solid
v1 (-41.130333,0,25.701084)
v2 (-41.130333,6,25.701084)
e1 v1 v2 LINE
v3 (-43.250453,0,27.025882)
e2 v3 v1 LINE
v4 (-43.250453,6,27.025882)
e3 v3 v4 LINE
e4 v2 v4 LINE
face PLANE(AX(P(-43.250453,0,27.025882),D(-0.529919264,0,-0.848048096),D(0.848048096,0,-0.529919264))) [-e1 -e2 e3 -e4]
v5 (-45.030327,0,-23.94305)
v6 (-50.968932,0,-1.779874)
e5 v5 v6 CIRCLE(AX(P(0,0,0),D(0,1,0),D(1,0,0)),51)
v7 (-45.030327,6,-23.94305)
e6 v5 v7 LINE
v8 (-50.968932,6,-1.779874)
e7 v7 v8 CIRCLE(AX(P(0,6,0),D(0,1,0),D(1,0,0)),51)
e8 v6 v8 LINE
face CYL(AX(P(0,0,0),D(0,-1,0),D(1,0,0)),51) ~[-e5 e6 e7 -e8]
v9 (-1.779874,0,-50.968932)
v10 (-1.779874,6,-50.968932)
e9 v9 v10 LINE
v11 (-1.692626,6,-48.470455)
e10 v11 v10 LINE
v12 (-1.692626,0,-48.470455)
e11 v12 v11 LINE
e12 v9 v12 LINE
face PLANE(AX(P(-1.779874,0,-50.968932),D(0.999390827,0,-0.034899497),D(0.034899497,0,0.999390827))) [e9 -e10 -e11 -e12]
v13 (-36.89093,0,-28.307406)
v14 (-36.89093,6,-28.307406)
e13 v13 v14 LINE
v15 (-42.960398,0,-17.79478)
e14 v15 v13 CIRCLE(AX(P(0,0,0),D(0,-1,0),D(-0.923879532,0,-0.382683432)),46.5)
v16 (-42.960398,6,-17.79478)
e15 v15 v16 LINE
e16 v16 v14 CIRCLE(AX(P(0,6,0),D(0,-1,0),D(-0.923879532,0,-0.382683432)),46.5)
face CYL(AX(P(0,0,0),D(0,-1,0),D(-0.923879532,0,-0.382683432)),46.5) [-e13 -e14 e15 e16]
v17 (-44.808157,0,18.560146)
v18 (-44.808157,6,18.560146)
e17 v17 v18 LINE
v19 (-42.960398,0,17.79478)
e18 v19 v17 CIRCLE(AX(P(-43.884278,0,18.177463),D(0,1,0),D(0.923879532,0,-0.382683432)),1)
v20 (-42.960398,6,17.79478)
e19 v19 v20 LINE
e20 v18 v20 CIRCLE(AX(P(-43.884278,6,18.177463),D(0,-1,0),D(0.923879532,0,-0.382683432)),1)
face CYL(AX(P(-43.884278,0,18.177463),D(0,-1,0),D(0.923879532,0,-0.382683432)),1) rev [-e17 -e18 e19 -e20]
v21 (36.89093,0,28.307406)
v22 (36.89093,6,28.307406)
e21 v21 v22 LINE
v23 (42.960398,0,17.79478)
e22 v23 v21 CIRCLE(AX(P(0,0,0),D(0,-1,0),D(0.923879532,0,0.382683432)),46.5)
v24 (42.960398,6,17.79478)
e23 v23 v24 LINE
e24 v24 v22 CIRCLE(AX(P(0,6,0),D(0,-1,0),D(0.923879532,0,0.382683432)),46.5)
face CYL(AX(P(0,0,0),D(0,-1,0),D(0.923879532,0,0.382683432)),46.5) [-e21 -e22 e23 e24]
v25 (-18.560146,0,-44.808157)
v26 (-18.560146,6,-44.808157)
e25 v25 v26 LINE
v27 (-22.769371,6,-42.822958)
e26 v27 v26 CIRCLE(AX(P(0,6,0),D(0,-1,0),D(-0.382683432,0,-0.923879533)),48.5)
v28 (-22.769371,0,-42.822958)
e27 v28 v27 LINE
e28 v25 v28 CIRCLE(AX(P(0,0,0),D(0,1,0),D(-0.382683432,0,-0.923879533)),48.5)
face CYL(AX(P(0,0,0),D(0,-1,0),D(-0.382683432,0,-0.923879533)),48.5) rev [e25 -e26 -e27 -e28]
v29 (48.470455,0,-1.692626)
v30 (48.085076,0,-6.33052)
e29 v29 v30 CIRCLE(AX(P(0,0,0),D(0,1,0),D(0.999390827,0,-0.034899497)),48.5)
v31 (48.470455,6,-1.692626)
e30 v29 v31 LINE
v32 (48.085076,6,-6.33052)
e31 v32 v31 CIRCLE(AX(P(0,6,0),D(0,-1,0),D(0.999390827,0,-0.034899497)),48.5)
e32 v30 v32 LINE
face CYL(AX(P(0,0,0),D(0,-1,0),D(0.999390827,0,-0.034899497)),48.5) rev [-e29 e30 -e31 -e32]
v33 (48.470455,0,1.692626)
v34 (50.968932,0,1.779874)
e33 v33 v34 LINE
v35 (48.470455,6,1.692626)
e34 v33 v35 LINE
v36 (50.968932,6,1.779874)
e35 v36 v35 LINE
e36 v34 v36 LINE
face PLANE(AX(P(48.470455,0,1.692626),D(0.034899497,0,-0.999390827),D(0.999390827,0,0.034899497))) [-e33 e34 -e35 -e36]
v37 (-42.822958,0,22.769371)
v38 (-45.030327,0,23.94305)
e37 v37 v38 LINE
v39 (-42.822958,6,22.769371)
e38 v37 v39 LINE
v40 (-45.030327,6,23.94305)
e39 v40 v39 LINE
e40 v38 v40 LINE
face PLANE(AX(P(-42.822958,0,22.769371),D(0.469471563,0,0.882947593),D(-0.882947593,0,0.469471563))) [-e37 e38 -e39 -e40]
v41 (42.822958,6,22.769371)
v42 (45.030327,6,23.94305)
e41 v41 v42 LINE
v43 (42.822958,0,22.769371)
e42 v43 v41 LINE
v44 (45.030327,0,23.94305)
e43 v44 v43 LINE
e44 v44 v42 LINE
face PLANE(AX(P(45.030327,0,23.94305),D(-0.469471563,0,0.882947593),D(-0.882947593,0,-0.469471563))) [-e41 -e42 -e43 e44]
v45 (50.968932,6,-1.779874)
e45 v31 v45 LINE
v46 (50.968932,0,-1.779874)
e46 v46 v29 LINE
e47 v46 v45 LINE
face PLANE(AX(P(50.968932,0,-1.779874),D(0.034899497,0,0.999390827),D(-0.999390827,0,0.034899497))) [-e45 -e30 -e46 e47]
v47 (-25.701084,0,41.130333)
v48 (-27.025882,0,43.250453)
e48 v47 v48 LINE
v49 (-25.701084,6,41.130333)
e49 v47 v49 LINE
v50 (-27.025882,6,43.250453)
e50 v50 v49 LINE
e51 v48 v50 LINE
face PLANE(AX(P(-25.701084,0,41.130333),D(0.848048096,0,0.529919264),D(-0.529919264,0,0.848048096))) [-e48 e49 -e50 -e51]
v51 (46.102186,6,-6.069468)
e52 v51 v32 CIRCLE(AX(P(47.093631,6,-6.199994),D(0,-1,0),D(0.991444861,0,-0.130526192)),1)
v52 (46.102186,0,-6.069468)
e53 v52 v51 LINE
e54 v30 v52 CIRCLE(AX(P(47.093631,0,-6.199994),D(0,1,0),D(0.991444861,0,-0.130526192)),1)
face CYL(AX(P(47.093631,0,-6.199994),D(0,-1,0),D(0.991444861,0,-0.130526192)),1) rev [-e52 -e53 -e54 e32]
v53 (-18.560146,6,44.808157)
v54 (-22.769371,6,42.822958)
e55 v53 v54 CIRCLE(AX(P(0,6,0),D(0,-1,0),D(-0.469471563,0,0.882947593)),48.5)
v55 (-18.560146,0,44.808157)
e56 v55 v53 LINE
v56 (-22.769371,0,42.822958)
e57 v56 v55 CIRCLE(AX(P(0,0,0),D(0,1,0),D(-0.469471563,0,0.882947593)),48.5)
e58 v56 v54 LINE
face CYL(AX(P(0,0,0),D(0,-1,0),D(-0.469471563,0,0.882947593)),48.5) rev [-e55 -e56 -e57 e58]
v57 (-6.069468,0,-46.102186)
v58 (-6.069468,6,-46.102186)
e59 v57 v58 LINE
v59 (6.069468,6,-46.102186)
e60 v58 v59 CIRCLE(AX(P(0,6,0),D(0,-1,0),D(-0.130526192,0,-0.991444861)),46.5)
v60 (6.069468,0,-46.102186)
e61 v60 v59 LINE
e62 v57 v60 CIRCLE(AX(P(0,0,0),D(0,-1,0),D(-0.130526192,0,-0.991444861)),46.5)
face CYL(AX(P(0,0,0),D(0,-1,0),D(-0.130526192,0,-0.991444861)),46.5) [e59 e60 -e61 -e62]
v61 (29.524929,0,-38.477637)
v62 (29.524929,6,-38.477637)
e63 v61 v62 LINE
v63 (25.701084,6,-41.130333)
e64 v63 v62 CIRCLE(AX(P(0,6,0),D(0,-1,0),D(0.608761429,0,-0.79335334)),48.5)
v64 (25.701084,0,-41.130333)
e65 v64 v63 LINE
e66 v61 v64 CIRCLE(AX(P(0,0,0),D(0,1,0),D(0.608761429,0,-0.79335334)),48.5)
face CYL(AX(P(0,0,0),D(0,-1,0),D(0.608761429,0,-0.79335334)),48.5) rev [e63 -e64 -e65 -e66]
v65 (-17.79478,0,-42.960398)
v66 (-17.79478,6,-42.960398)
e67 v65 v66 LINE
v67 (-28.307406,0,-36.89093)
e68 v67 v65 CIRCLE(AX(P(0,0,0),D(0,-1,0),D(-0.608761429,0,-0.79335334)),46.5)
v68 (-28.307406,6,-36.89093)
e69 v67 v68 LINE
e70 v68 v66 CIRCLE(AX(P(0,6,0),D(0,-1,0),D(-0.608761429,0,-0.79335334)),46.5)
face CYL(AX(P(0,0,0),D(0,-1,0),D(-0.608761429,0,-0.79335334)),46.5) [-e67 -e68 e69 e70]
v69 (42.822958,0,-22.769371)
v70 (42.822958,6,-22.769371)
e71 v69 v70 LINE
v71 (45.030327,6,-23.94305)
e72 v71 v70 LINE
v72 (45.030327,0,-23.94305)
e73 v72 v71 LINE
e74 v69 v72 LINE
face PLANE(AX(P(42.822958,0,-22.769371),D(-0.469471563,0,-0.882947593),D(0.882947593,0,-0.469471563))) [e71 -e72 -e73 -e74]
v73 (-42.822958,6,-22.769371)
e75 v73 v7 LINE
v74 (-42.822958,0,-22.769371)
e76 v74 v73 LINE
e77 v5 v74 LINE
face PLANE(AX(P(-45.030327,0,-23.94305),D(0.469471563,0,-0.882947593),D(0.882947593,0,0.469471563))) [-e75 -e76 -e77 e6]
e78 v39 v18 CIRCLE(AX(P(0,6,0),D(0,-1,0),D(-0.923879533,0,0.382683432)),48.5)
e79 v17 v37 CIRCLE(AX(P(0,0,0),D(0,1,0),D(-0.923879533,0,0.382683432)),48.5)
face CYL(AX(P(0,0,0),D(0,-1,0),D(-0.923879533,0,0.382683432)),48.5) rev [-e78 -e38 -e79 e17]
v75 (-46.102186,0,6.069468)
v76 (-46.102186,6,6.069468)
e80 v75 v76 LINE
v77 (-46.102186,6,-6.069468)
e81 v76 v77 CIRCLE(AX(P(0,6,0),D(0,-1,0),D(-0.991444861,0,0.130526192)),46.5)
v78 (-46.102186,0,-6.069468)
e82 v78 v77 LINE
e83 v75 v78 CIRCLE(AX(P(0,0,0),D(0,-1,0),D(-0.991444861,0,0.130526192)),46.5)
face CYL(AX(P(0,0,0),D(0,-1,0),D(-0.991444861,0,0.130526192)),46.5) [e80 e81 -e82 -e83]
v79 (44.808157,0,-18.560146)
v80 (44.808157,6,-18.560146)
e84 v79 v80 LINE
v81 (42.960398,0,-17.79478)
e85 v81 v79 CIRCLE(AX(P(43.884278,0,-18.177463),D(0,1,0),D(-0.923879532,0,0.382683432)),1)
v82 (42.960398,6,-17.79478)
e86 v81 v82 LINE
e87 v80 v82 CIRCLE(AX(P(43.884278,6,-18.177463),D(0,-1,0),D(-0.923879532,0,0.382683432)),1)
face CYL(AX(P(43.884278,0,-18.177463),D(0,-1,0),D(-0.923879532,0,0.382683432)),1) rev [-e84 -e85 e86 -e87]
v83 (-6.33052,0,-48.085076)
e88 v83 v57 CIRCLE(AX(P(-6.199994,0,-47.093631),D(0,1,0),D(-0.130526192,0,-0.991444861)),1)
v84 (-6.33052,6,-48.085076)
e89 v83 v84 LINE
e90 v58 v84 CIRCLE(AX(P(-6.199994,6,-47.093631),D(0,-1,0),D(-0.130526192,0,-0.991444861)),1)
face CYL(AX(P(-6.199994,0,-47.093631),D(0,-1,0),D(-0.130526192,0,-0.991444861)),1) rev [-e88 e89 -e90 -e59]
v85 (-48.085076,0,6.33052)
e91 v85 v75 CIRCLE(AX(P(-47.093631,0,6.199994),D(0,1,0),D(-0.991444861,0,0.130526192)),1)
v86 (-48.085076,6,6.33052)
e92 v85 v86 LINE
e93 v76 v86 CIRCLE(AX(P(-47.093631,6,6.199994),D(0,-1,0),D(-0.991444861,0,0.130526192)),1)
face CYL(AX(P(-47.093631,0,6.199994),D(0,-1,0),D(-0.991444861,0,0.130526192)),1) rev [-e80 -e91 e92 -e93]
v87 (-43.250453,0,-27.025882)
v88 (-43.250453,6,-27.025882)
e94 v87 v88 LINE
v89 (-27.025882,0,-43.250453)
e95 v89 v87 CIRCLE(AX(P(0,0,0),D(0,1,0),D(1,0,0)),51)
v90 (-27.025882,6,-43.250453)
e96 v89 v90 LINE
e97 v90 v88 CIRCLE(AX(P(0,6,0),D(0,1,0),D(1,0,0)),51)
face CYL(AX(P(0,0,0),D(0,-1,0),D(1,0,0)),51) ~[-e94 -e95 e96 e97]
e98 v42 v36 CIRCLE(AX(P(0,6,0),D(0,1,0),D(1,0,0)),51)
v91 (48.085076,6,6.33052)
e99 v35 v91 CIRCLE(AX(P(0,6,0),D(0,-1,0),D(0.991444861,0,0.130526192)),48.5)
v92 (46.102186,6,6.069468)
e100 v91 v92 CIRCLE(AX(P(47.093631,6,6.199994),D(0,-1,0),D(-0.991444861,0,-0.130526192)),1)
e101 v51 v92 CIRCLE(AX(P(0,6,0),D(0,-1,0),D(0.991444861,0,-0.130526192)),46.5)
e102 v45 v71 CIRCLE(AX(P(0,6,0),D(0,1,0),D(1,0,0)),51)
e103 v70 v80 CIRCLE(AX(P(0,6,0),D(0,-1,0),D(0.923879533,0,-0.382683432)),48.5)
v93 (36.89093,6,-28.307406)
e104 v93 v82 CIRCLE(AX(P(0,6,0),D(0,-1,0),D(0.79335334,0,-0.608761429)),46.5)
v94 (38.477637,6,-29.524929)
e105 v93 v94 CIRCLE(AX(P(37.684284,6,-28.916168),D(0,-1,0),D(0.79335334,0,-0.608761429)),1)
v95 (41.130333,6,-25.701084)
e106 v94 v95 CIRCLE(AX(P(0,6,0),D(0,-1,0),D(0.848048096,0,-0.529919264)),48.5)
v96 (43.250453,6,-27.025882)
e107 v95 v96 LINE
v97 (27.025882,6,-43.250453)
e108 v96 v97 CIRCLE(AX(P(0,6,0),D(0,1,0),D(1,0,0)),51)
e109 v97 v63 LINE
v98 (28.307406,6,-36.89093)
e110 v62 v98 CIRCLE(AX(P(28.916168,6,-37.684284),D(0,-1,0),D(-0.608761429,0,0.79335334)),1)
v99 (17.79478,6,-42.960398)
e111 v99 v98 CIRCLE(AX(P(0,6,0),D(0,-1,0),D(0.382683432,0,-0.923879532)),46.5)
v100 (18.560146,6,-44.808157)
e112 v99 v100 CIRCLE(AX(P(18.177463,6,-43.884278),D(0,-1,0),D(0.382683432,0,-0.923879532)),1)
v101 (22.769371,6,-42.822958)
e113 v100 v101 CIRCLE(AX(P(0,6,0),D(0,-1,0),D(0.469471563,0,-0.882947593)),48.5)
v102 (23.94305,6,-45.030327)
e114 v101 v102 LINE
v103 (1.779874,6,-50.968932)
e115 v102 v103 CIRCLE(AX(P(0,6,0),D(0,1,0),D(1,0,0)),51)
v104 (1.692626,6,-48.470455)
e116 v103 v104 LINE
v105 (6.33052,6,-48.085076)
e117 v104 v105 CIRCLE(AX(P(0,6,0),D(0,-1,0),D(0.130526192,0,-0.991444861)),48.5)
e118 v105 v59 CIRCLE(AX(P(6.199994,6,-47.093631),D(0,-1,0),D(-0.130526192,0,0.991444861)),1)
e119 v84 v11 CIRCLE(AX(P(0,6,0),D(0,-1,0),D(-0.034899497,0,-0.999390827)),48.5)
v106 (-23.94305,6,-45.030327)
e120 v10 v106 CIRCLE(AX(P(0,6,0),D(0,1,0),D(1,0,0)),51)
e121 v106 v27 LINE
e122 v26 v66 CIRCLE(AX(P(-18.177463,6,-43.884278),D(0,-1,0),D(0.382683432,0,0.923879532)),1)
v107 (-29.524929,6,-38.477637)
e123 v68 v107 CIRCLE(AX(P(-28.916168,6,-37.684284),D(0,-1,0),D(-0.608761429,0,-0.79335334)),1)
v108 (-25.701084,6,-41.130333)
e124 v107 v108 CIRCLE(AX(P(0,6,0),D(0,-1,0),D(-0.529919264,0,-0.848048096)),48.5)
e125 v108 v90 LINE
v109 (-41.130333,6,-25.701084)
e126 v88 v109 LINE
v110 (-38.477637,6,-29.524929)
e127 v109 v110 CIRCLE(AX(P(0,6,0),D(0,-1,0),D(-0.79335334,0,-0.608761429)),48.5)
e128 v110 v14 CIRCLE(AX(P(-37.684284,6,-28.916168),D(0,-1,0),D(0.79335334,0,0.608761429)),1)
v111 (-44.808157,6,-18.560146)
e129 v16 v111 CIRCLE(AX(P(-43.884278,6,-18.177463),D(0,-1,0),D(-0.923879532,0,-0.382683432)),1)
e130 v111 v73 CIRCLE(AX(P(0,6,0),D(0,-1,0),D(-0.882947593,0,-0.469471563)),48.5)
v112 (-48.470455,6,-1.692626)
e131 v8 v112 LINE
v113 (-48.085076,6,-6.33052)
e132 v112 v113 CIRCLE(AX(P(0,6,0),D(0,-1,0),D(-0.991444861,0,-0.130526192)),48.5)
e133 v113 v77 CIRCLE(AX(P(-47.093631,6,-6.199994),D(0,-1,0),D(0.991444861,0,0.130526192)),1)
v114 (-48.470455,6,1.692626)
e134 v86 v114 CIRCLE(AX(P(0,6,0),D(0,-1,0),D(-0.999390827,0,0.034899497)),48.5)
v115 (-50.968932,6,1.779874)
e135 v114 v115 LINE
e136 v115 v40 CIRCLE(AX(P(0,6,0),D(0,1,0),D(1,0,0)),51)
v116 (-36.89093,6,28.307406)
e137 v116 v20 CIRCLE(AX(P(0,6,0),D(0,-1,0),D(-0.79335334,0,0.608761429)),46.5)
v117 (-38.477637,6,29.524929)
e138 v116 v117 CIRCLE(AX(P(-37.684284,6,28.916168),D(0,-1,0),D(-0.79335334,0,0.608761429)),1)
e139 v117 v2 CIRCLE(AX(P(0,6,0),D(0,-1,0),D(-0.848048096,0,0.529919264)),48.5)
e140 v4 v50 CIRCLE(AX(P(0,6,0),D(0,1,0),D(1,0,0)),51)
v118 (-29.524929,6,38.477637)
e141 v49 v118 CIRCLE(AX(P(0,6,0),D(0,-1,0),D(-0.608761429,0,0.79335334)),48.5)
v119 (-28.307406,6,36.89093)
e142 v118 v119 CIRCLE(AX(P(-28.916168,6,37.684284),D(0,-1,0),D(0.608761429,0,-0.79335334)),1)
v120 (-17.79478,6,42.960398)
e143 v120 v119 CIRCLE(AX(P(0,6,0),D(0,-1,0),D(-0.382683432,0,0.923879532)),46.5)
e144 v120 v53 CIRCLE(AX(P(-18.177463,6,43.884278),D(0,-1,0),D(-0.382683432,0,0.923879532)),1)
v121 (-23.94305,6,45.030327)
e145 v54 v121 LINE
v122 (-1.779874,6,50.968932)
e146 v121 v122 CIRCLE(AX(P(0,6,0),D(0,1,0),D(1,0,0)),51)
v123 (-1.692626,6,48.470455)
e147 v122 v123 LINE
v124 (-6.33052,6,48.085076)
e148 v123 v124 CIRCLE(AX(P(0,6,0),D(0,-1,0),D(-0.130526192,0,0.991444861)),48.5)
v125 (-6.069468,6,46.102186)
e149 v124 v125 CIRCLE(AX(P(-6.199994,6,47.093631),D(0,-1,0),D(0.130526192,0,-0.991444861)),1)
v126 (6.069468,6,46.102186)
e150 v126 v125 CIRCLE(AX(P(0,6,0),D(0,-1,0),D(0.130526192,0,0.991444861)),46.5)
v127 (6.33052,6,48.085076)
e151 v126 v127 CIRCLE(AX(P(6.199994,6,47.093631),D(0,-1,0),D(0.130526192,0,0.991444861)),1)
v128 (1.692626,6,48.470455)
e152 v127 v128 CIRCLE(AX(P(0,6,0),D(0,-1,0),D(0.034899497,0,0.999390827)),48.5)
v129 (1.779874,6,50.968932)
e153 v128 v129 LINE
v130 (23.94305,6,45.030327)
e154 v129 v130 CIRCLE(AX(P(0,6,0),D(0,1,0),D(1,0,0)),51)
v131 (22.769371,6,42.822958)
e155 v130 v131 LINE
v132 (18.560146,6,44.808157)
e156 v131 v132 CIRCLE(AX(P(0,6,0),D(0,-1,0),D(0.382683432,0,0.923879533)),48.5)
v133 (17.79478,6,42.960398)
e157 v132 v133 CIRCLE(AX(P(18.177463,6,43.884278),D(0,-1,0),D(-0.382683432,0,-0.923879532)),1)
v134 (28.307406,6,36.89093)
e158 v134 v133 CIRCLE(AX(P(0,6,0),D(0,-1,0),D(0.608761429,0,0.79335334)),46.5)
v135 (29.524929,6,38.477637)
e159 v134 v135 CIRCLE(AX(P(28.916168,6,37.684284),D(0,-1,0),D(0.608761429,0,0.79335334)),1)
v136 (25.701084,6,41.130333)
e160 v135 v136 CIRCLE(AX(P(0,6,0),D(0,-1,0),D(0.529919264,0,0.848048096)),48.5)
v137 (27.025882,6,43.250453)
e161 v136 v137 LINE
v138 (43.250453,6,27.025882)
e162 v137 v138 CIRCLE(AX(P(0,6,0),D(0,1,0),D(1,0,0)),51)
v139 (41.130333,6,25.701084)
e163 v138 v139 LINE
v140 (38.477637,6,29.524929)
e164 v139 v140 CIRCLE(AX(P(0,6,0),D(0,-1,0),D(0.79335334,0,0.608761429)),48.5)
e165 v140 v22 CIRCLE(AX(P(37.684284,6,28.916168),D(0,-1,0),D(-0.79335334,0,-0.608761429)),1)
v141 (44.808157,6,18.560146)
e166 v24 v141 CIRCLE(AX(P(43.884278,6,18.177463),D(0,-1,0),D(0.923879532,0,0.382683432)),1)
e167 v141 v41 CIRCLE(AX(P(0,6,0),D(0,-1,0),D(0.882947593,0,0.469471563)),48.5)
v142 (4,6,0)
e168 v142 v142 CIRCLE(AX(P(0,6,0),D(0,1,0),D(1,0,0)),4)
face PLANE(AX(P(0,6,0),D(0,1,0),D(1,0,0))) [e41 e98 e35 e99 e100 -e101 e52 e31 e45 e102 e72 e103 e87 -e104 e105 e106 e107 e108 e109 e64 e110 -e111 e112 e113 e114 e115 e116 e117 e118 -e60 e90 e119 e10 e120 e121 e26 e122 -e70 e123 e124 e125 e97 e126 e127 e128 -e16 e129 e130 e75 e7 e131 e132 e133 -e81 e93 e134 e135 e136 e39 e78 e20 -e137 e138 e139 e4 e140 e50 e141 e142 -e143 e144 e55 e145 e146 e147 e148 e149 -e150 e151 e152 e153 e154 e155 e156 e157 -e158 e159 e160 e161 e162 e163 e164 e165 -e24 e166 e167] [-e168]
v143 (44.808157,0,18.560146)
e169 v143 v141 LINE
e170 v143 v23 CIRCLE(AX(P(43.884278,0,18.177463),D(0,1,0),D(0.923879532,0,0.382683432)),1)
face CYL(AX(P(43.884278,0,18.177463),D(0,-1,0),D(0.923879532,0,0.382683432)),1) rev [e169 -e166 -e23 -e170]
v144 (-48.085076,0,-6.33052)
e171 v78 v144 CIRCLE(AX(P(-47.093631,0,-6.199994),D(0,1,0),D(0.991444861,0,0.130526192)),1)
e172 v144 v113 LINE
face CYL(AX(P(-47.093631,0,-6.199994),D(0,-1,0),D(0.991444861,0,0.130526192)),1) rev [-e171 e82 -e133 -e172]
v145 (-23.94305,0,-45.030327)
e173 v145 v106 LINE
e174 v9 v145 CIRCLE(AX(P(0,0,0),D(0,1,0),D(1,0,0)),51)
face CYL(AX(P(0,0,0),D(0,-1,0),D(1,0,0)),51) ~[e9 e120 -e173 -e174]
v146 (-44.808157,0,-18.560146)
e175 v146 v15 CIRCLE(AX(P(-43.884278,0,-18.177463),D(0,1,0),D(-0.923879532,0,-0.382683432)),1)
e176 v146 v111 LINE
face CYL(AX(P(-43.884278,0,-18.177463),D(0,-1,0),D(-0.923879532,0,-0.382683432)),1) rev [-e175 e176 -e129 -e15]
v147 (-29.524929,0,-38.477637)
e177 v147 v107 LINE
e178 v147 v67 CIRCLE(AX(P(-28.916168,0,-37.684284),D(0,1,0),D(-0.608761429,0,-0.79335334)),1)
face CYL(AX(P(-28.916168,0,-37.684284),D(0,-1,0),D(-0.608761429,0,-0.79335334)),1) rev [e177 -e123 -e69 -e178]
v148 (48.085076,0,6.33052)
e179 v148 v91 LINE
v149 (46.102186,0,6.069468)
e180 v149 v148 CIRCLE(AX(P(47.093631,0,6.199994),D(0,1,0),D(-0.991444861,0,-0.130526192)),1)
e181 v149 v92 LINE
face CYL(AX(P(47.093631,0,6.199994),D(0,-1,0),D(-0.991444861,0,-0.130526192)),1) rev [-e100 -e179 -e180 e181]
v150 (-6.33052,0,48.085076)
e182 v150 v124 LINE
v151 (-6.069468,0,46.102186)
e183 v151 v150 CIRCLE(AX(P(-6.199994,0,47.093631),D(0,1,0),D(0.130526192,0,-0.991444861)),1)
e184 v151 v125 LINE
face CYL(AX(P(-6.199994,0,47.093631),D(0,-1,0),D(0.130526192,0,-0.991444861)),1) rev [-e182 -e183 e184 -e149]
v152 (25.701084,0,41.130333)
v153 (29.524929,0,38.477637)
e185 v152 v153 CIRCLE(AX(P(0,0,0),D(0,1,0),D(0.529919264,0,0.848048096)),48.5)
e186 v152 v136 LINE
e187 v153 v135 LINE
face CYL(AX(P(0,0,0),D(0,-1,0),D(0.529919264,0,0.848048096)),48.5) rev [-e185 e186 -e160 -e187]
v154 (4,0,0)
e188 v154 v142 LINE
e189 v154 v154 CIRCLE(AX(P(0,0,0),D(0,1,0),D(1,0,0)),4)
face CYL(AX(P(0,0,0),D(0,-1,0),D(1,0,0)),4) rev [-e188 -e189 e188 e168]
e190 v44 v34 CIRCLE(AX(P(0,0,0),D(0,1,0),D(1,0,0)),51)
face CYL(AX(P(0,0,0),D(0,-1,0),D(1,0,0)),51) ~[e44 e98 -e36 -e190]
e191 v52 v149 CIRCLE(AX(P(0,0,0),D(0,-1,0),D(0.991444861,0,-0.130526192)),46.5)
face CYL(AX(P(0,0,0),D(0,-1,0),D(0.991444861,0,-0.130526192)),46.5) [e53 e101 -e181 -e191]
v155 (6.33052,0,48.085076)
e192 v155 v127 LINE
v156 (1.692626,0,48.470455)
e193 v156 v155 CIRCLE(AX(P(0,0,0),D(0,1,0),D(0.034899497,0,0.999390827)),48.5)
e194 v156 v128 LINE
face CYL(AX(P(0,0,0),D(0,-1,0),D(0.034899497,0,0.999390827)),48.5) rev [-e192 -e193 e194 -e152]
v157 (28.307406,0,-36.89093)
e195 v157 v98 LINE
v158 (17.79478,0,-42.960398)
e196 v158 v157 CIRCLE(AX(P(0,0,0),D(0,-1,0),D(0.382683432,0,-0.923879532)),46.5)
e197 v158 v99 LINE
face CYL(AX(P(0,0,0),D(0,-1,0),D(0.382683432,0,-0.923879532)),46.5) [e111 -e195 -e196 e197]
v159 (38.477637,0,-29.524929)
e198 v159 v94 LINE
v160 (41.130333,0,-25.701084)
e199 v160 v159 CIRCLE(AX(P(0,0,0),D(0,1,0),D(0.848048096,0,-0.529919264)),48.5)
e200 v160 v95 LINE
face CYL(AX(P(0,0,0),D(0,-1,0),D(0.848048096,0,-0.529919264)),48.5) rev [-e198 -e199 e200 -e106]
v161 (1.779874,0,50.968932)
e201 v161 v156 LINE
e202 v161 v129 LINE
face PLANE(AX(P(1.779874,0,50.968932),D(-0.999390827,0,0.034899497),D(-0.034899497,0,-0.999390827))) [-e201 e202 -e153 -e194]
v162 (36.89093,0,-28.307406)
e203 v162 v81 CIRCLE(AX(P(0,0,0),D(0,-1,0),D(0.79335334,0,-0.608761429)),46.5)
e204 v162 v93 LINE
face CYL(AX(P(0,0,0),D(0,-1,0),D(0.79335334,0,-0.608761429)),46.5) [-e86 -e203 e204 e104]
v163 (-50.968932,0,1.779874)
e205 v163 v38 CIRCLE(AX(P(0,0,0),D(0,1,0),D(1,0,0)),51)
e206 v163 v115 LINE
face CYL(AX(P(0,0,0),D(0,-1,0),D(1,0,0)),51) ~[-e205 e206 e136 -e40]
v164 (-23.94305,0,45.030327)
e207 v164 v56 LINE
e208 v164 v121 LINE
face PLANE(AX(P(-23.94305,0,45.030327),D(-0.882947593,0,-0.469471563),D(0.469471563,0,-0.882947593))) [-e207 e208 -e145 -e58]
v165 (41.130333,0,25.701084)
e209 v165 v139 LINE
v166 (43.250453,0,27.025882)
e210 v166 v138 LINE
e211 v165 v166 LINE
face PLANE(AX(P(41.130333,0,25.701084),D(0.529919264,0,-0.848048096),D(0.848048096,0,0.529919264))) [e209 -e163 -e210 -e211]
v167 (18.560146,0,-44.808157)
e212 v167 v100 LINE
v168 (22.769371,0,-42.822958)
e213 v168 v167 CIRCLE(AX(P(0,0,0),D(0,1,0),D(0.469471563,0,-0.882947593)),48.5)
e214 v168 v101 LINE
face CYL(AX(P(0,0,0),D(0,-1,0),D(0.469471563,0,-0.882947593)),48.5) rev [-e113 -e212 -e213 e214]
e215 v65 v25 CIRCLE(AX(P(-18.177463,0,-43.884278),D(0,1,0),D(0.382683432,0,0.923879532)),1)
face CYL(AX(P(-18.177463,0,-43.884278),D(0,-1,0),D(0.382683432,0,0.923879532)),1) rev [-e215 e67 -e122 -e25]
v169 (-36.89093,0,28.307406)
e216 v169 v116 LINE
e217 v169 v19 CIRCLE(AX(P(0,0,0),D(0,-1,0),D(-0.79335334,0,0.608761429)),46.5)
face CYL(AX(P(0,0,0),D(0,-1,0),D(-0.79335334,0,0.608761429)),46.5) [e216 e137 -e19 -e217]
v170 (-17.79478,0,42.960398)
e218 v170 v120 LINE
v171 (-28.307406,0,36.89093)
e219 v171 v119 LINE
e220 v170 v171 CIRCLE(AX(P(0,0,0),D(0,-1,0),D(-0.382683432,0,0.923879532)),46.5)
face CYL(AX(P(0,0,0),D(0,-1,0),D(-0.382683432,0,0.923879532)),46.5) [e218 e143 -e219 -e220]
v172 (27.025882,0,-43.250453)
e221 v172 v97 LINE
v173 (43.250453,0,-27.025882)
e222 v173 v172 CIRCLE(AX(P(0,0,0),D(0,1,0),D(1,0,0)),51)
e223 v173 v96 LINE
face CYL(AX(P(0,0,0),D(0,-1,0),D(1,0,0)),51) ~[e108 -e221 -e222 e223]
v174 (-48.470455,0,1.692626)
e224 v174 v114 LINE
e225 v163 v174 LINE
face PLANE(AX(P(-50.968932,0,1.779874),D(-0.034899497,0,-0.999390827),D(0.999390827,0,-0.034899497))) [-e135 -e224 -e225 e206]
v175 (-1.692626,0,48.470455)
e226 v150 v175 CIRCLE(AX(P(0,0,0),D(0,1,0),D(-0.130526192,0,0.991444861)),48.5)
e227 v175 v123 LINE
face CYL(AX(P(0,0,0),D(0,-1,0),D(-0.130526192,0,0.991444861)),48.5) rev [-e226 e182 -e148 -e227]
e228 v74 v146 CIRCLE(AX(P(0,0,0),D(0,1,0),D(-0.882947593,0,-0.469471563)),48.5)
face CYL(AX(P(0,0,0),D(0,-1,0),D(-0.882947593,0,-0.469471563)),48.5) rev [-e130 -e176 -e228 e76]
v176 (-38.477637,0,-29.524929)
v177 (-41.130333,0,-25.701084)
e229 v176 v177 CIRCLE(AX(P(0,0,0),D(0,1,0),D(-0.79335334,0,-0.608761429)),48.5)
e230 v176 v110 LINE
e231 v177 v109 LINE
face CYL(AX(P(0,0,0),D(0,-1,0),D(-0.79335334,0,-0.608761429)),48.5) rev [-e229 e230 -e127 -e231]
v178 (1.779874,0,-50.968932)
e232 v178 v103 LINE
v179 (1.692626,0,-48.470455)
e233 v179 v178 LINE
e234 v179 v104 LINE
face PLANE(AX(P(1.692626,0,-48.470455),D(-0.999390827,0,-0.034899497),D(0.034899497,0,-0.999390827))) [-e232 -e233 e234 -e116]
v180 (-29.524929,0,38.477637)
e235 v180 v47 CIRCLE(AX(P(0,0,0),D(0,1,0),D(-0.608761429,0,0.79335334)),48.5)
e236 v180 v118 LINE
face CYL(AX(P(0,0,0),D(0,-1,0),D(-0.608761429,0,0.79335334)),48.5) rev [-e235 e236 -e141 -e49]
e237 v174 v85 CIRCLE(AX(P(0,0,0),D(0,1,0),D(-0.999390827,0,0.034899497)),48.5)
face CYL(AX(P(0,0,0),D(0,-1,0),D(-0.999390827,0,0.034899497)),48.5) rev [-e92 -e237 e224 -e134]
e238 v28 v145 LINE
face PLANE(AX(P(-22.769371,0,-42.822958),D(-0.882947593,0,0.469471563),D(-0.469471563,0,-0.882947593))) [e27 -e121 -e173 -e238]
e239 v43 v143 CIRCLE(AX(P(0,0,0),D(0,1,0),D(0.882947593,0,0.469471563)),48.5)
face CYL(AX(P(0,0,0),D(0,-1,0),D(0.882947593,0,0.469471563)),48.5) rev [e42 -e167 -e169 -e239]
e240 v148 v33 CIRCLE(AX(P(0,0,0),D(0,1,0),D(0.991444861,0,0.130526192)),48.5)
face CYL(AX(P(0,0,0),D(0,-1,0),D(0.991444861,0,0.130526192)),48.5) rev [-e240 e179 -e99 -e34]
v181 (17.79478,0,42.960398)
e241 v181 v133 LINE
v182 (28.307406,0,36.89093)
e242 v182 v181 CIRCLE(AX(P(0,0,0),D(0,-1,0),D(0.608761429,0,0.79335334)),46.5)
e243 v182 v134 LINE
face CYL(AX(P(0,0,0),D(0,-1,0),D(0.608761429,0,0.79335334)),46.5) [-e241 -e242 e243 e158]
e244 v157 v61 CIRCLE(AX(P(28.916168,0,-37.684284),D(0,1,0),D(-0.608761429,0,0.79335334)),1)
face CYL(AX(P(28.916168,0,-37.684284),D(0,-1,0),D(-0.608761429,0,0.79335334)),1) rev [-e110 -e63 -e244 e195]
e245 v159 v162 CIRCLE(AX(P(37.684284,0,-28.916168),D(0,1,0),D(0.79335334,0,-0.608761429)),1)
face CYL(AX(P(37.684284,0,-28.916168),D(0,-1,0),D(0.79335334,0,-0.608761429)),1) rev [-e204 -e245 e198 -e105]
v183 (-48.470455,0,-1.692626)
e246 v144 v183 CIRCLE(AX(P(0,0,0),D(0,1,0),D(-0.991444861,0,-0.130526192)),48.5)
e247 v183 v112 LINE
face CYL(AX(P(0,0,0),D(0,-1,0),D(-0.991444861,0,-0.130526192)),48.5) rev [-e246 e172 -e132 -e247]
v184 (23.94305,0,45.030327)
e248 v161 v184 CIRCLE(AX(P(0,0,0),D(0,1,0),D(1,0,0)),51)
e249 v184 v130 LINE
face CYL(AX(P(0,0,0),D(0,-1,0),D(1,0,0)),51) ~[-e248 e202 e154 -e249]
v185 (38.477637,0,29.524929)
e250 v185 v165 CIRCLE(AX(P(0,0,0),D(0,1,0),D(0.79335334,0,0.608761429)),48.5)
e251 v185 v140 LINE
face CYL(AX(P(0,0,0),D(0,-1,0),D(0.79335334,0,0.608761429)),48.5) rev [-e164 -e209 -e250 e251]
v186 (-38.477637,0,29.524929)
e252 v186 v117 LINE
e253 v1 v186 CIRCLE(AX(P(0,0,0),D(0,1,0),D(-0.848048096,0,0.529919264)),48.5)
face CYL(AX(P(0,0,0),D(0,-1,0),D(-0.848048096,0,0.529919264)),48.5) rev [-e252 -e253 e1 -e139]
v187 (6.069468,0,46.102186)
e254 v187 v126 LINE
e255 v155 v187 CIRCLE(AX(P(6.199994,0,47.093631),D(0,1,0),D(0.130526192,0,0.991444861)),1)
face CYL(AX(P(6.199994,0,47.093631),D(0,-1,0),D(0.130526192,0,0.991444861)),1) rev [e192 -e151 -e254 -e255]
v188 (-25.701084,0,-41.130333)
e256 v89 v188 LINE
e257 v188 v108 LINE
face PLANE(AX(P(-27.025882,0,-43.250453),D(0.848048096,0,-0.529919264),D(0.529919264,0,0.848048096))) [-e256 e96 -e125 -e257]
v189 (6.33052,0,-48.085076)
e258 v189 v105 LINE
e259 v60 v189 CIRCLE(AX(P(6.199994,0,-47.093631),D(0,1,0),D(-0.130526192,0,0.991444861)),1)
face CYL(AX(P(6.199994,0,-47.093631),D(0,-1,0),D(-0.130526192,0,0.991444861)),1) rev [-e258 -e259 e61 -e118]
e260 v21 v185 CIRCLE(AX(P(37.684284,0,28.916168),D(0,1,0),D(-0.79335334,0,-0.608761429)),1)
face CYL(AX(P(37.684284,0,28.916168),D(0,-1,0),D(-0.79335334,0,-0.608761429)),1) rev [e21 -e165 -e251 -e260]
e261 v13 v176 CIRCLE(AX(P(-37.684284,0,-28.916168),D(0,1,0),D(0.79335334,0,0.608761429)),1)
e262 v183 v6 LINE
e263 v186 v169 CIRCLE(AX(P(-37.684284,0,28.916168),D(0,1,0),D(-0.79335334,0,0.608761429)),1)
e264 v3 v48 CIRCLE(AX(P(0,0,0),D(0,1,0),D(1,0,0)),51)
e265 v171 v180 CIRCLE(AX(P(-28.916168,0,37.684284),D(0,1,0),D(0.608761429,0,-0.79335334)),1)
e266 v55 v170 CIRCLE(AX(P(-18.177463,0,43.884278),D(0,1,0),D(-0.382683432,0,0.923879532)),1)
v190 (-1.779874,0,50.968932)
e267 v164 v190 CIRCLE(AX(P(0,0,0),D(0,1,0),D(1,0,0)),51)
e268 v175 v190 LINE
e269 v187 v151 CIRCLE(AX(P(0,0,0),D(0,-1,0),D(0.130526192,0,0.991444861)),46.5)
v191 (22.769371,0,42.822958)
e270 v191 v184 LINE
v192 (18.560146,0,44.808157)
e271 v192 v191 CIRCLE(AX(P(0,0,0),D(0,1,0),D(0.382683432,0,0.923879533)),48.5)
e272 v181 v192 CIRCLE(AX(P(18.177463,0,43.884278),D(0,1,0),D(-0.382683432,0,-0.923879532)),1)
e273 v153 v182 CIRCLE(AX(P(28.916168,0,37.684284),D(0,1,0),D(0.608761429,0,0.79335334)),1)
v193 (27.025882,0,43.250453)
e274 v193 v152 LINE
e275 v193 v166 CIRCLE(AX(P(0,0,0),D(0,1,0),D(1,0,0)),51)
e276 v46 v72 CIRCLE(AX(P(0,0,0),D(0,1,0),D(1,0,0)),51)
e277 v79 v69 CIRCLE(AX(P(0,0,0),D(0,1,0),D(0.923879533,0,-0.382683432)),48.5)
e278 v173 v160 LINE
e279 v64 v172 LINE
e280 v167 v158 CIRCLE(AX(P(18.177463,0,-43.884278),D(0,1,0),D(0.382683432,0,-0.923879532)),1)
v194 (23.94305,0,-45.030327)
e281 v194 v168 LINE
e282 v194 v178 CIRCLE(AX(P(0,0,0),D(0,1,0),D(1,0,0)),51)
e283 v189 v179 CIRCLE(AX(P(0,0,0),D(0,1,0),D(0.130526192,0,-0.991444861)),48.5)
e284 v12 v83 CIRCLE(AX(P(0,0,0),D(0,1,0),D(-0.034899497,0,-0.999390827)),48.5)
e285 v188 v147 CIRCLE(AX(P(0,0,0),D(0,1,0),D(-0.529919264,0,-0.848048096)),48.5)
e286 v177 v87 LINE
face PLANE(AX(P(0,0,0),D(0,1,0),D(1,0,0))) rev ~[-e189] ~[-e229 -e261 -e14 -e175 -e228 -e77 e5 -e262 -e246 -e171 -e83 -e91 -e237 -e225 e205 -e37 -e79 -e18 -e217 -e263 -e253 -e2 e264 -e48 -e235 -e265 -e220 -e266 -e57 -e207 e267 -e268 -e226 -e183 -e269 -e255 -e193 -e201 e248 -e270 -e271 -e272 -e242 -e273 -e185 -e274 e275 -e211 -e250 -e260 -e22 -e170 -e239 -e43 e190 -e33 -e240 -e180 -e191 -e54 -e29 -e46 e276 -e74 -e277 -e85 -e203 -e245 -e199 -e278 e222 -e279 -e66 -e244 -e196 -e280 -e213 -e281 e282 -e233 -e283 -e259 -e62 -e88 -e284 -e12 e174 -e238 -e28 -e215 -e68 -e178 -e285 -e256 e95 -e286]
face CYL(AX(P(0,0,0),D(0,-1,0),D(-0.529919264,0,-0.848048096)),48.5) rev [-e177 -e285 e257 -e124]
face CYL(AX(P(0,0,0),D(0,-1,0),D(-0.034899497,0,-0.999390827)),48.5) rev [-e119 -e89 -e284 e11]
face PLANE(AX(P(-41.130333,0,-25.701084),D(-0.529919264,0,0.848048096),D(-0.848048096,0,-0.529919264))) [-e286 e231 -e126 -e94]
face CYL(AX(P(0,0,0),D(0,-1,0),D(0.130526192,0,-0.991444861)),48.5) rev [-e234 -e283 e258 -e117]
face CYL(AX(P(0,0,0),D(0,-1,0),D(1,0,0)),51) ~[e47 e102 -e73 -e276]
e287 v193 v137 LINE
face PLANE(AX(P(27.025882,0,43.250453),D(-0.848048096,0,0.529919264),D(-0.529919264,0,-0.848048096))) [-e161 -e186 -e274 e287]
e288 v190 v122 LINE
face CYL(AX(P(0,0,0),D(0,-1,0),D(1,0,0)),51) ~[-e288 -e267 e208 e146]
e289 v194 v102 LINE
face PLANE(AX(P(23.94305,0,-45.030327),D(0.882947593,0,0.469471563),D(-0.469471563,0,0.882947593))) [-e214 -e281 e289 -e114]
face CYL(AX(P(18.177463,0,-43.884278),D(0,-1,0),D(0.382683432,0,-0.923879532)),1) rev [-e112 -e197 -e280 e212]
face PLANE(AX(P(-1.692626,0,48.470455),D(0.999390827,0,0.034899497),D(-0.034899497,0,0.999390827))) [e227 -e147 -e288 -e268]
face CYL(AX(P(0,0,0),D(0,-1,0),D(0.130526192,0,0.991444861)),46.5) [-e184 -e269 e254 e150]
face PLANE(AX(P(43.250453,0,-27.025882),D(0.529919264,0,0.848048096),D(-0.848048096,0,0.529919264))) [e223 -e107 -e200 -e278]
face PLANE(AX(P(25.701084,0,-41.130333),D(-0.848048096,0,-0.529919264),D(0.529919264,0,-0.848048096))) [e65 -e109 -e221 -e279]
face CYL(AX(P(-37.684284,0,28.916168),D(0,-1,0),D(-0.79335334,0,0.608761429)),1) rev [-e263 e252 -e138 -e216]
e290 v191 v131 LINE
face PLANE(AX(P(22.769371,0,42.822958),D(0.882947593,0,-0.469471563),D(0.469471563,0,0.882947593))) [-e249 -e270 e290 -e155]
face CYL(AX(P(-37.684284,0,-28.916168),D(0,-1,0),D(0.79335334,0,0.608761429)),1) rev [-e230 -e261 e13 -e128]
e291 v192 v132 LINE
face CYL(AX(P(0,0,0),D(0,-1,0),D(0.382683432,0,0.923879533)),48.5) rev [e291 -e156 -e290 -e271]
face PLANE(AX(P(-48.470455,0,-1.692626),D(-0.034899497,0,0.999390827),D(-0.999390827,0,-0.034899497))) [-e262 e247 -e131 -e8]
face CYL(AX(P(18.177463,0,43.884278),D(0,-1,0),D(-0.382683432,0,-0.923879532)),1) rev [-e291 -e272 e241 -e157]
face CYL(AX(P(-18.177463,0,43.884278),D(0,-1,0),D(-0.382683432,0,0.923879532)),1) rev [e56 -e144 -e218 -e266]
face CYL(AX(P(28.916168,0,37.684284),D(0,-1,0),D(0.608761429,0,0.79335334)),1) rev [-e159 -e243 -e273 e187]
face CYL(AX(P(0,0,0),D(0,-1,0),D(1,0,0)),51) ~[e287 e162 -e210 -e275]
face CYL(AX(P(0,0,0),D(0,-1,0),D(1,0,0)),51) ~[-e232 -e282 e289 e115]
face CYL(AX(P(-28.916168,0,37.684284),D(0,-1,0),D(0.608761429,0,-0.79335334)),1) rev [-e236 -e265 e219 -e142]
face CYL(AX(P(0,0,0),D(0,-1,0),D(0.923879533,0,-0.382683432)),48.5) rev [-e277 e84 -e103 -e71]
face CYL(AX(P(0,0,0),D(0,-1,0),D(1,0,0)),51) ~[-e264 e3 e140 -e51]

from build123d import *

# Parameters (mm, degrees)
SKETCH1_R           = 51
BOSS_EXTRUDE1_DEPTH = 6
CUT_EXTRUDE1_DEPTH  = 7
SKETCH3_R           = 4
CUT_EXTRUDE2_DEPTH  = 6


with BuildPart() as part:
    # Sketch1 → Boss-Extrude1 (new body)
    with BuildSketch(Plane(origin=(0, 0, 0), x_dir=(1, 0, 0), z_dir=(0, 1, 0))):
        Circle(SKETCH1_R)
    extrude(amount=BOSS_EXTRUDE1_DEPTH)

    # Sketch2 → Cut-Extrude1 (cut, through all)
    with BuildSketch(Plane(origin=(0, 0, 0), x_dir=(1, 0, 0), z_dir=(0, 1, 0))):
        with BuildLine():
            Line((-1.779874332, 50.968932178), (-1.69262559, 48.47045511))
            ThreePointArc((-1.69262559, 48.47045511), (-4.016198064, 48.333426871), (-6.330520323, 48.085075777))
            ThreePointArc((-6.330520323, 48.085075777), (-7.191438992, 46.963104723), (-6.069467938, 46.102186054))
            ThreePointArc((-6.069467938, 46.102186054), (0, 46.5), (6.069467938, 46.102186054))
            ThreePointArc((6.069467938, 46.102186054), (7.191438992, 46.963104723), (6.330520323, 48.085075777))
            ThreePointArc((6.330520323, 48.085075777), (4.016198064, 48.333426871), (1.69262559, 48.47045511))
            Line((1.69262559, 48.47045511), (1.779874332, 50.968932178))
            ThreePointArc((1.779874332, 50.968932178), (0, 51), (-1.779874332, 50.968932178))
        make_face()
        with BuildLine():
            Line((23.943049702, 45.030327236), (22.769370795, 42.822958254))
            ThreePointArc((22.769370795, 42.822958254), (20.688583885, 43.866074555), (18.56014647, 44.808157327))
            ThreePointArc((18.56014647, 44.808157327), (17.253583505, 44.266961227), (17.794779605, 42.960398262))
            ThreePointArc((17.794779605, 42.960398262), (23.25, 40.270181276), (28.307406449, 36.890930324))
            ThreePointArc((28.307406449, 36.890930324), (29.709521218, 37.075522235), (29.524929307, 38.477637004))
            ThreePointArc((29.524929307, 38.477637004), (27.644842986, 39.84987649), (25.701084315, 41.130332664))
            Line((25.701084315, 41.130332664), (27.025882476, 43.250452904))
            ThreePointArc((27.025882476, 43.250452904), (25.5, 44.167295593), (23.943049702, 45.030327236))
        make_face()
        with BuildLine():
            Line((43.250452904, 27.025882476), (41.130332664, 25.701084315))
            ThreePointArc((41.130332664, 25.701084315), (39.84987649, 27.644842986), (38.477637004, 29.524929307))
            ThreePointArc((38.477637004, 29.524929307), (37.075522235, 29.709521218), (36.890930324, 28.307406449))
            ThreePointArc((36.890930324, 28.307406449), (40.270181276, 23.25), (42.960398262, 17.794779605))
            ThreePointArc((42.960398262, 17.794779605), (44.266961227, 17.253583505), (44.808157327, 18.56014647))
            ThreePointArc((44.808157327, 18.56014647), (43.866074555, 20.688583885), (42.822958254, 22.769370795))
            Line((42.822958254, 22.769370795), (45.030327236, 23.943049702))
            ThreePointArc((45.030327236, 23.943049702), (44.167295593, 25.5), (43.250452904, 27.025882476))
        make_face()
        with BuildLine():
            Line((50.968932178, 1.779874332), (48.47045511, 1.69262559))
            ThreePointArc((48.47045511, 1.69262559), (48.333426871, 4.016198064), (48.085075777, 6.330520323))
            ThreePointArc((48.085075777, 6.330520323), (46.963104723, 7.191438992), (46.102186054, 6.069467938))
            ThreePointArc((46.102186054, 6.069467938), (46.5, 0), (46.102186054, -6.069467938))
            ThreePointArc((46.102186054, -6.069467938), (46.963104723, -7.191438992), (48.085075777, -6.330520323))
            ThreePointArc((48.085075777, -6.330520323), (48.333426871, -4.016198064), (48.47045511, -1.69262559))
            Line((48.47045511, -1.69262559), (50.968932178, -1.779874332))
            ThreePointArc((50.968932178, -1.779874332), (51, 0), (50.968932178, 1.779874332))
        make_face()
        with BuildLine():
            Line((45.030327236, -23.943049702), (42.822958254, -22.769370795))
            ThreePointArc((42.822958254, -22.769370795), (43.866074555, -20.688583885), (44.808157327, -18.56014647))
            ThreePointArc((44.808157327, -18.56014647), (44.266961227, -17.253583505), (42.960398262, -17.794779605))
            ThreePointArc((42.960398262, -17.794779605), (40.270181276, -23.25), (36.890930324, -28.307406449))
            ThreePointArc((36.890930324, -28.307406449), (37.075522235, -29.709521218), (38.477637004, -29.524929307))
            ThreePointArc((38.477637004, -29.524929307), (39.84987649, -27.644842986), (41.130332664, -25.701084315))
            Line((41.130332664, -25.701084315), (43.250452904, -27.025882476))
            ThreePointArc((43.250452904, -27.025882476), (44.167295593, -25.5), (45.030327236, -23.943049702))
        make_face()
        with BuildLine():
            Line((27.025882476, -43.250452904), (25.701084315, -41.130332664))
            ThreePointArc((25.701084315, -41.130332664), (27.644842986, -39.84987649), (29.524929307, -38.477637004))
            ThreePointArc((29.524929307, -38.477637004), (29.709521218, -37.075522235), (28.307406449, -36.890930324))
            ThreePointArc((28.307406449, -36.890930324), (23.25, -40.270181276), (17.794779605, -42.960398262))
            ThreePointArc((17.794779605, -42.960398262), (17.253583505, -44.266961227), (18.56014647, -44.808157327))
            ThreePointArc((18.56014647, -44.808157327), (20.688583885, -43.866074555), (22.769370795, -42.822958254))
            Line((22.769370795, -42.822958254), (23.943049702, -45.030327236))
            ThreePointArc((23.943049702, -45.030327236), (25.5, -44.167295593), (27.025882476, -43.250452904))
        make_face()
        with BuildLine():
            Line((1.779874332, -50.968932178), (1.69262559, -48.47045511))
            ThreePointArc((1.69262559, -48.47045511), (4.016198064, -48.333426871), (6.330520323, -48.085075777))
            ThreePointArc((6.330520323, -48.085075777), (7.191438992, -46.963104723), (6.069467938, -46.102186054))
            ThreePointArc((6.069467938, -46.102186054), (0, -46.5), (-6.069467938, -46.102186054))
            ThreePointArc((-6.069467938, -46.102186054), (-7.191438992, -46.963104723), (-6.330520323, -48.085075777))
            ThreePointArc((-6.330520323, -48.085075777), (-4.016198064, -48.333426871), (-1.69262559, -48.47045511))
            Line((-1.69262559, -48.47045511), (-1.779874332, -50.968932178))
            ThreePointArc((-1.779874332, -50.968932178), (0, -51), (1.779874332, -50.968932178))
        make_face()
        with BuildLine():
            Line((-23.943049702, -45.030327236), (-22.769370795, -42.822958254))
            ThreePointArc((-22.769370795, -42.822958254), (-20.688583885, -43.866074555), (-18.56014647, -44.808157327))
            ThreePointArc((-18.56014647, -44.808157327), (-17.253583505, -44.266961227), (-17.794779605, -42.960398262))
            ThreePointArc((-17.794779605, -42.960398262), (-23.25, -40.270181276), (-28.307406449, -36.890930324))
            ThreePointArc((-28.307406449, -36.890930324), (-29.709521218, -37.075522235), (-29.524929307, -38.477637004))
            ThreePointArc((-29.524929307, -38.477637004), (-27.644842986, -39.84987649), (-25.701084315, -41.130332664))
            Line((-25.701084315, -41.130332664), (-27.025882476, -43.250452904))
            ThreePointArc((-27.025882476, -43.250452904), (-25.5, -44.167295593), (-23.943049702, -45.030327236))
        make_face()
        with BuildLine():
            Line((-43.250452904, -27.025882476), (-41.130332664, -25.701084315))
            ThreePointArc((-41.130332664, -25.701084315), (-39.84987649, -27.644842986), (-38.477637004, -29.524929307))
            ThreePointArc((-38.477637004, -29.524929307), (-37.075522235, -29.709521218), (-36.890930324, -28.307406449))
            ThreePointArc((-36.890930324, -28.307406449), (-40.270181276, -23.25), (-42.960398262, -17.794779605))
            ThreePointArc((-42.960398262, -17.794779605), (-44.266961227, -17.253583505), (-44.808157327, -18.56014647))
            ThreePointArc((-44.808157327, -18.56014647), (-43.866074555, -20.688583885), (-42.822958254, -22.769370795))
            Line((-42.822958254, -22.769370795), (-45.030327236, -23.943049702))
            ThreePointArc((-45.030327236, -23.943049702), (-44.167295593, -25.5), (-43.250452904, -27.025882476))
        make_face()
        with BuildLine():
            Line((-50.968932178, -1.779874332), (-48.47045511, -1.69262559))
            ThreePointArc((-48.47045511, -1.69262559), (-48.333426871, -4.016198064), (-48.085075777, -6.330520323))
            ThreePointArc((-48.085075777, -6.330520323), (-46.963104723, -7.191438992), (-46.102186054, -6.069467938))
            ThreePointArc((-46.102186054, -6.069467938), (-46.5, 0), (-46.102186054, 6.069467938))
            ThreePointArc((-46.102186054, 6.069467938), (-46.963104723, 7.191438992), (-48.085075777, 6.330520323))
            ThreePointArc((-48.085075777, 6.330520323), (-48.333426871, 4.016198064), (-48.47045511, 1.69262559))
            Line((-48.47045511, 1.69262559), (-50.968932178, 1.779874332))
            ThreePointArc((-50.968932178, 1.779874332), (-51, 0), (-50.968932178, -1.779874332))
        make_face()
        with BuildLine():
            Line((-45.030327236, 23.943049702), (-42.822958254, 22.769370795))
            ThreePointArc((-42.822958254, 22.769370795), (-43.866074555, 20.688583885), (-44.808157327, 18.56014647))
            ThreePointArc((-44.808157327, 18.56014647), (-44.266961227, 17.253583505), (-42.960398262, 17.794779605))
            ThreePointArc((-42.960398262, 17.794779605), (-40.270181276, 23.25), (-36.890930324, 28.307406449))
            ThreePointArc((-36.890930324, 28.307406449), (-37.075522235, 29.709521218), (-38.477637004, 29.524929307))
            ThreePointArc((-38.477637004, 29.524929307), (-39.84987649, 27.644842986), (-41.130332664, 25.701084315))
            Line((-41.130332664, 25.701084315), (-43.250452904, 27.025882476))
            ThreePointArc((-43.250452904, 27.025882476), (-44.167295593, 25.5), (-45.030327236, 23.943049702))
        make_face()
        with BuildLine():
            Line((-27.025882476, 43.250452904), (-25.701084315, 41.130332664))
            ThreePointArc((-25.701084315, 41.130332664), (-27.644842986, 39.84987649), (-29.524929307, 38.477637004))
            ThreePointArc((-29.524929307, 38.477637004), (-29.709521218, 37.075522235), (-28.307406449, 36.890930324))
            ThreePointArc((-28.307406449, 36.890930324), (-23.25, 40.270181276), (-17.794779605, 42.960398262))
            ThreePointArc((-17.794779605, 42.960398262), (-17.253583505, 44.266961227), (-18.56014647, 44.808157327))
            ThreePointArc((-18.56014647, 44.808157327), (-20.688583885, 43.866074555), (-22.769370795, 42.822958254))
            Line((-22.769370795, 42.822958254), (-23.943049702, 45.030327236))
            ThreePointArc((-23.943049702, 45.030327236), (-25.5, 44.167295593), (-27.025882476, 43.250452904))
        make_face()
    extrude(amount=CUT_EXTRUDE1_DEPTH, mode=Mode.SUBTRACT)

    # Sketch3 → Cut-Extrude2 (cut)
    with BuildSketch(Plane(origin=(0, 0, 0), x_dir=(1, 0, 0), z_dir=(0, 1, 0))):
        Circle(SKETCH3_R)
    extrude(amount=CUT_EXTRUDE2_DEPTH, mode=Mode.SUBTRACT)


solid = part.part
